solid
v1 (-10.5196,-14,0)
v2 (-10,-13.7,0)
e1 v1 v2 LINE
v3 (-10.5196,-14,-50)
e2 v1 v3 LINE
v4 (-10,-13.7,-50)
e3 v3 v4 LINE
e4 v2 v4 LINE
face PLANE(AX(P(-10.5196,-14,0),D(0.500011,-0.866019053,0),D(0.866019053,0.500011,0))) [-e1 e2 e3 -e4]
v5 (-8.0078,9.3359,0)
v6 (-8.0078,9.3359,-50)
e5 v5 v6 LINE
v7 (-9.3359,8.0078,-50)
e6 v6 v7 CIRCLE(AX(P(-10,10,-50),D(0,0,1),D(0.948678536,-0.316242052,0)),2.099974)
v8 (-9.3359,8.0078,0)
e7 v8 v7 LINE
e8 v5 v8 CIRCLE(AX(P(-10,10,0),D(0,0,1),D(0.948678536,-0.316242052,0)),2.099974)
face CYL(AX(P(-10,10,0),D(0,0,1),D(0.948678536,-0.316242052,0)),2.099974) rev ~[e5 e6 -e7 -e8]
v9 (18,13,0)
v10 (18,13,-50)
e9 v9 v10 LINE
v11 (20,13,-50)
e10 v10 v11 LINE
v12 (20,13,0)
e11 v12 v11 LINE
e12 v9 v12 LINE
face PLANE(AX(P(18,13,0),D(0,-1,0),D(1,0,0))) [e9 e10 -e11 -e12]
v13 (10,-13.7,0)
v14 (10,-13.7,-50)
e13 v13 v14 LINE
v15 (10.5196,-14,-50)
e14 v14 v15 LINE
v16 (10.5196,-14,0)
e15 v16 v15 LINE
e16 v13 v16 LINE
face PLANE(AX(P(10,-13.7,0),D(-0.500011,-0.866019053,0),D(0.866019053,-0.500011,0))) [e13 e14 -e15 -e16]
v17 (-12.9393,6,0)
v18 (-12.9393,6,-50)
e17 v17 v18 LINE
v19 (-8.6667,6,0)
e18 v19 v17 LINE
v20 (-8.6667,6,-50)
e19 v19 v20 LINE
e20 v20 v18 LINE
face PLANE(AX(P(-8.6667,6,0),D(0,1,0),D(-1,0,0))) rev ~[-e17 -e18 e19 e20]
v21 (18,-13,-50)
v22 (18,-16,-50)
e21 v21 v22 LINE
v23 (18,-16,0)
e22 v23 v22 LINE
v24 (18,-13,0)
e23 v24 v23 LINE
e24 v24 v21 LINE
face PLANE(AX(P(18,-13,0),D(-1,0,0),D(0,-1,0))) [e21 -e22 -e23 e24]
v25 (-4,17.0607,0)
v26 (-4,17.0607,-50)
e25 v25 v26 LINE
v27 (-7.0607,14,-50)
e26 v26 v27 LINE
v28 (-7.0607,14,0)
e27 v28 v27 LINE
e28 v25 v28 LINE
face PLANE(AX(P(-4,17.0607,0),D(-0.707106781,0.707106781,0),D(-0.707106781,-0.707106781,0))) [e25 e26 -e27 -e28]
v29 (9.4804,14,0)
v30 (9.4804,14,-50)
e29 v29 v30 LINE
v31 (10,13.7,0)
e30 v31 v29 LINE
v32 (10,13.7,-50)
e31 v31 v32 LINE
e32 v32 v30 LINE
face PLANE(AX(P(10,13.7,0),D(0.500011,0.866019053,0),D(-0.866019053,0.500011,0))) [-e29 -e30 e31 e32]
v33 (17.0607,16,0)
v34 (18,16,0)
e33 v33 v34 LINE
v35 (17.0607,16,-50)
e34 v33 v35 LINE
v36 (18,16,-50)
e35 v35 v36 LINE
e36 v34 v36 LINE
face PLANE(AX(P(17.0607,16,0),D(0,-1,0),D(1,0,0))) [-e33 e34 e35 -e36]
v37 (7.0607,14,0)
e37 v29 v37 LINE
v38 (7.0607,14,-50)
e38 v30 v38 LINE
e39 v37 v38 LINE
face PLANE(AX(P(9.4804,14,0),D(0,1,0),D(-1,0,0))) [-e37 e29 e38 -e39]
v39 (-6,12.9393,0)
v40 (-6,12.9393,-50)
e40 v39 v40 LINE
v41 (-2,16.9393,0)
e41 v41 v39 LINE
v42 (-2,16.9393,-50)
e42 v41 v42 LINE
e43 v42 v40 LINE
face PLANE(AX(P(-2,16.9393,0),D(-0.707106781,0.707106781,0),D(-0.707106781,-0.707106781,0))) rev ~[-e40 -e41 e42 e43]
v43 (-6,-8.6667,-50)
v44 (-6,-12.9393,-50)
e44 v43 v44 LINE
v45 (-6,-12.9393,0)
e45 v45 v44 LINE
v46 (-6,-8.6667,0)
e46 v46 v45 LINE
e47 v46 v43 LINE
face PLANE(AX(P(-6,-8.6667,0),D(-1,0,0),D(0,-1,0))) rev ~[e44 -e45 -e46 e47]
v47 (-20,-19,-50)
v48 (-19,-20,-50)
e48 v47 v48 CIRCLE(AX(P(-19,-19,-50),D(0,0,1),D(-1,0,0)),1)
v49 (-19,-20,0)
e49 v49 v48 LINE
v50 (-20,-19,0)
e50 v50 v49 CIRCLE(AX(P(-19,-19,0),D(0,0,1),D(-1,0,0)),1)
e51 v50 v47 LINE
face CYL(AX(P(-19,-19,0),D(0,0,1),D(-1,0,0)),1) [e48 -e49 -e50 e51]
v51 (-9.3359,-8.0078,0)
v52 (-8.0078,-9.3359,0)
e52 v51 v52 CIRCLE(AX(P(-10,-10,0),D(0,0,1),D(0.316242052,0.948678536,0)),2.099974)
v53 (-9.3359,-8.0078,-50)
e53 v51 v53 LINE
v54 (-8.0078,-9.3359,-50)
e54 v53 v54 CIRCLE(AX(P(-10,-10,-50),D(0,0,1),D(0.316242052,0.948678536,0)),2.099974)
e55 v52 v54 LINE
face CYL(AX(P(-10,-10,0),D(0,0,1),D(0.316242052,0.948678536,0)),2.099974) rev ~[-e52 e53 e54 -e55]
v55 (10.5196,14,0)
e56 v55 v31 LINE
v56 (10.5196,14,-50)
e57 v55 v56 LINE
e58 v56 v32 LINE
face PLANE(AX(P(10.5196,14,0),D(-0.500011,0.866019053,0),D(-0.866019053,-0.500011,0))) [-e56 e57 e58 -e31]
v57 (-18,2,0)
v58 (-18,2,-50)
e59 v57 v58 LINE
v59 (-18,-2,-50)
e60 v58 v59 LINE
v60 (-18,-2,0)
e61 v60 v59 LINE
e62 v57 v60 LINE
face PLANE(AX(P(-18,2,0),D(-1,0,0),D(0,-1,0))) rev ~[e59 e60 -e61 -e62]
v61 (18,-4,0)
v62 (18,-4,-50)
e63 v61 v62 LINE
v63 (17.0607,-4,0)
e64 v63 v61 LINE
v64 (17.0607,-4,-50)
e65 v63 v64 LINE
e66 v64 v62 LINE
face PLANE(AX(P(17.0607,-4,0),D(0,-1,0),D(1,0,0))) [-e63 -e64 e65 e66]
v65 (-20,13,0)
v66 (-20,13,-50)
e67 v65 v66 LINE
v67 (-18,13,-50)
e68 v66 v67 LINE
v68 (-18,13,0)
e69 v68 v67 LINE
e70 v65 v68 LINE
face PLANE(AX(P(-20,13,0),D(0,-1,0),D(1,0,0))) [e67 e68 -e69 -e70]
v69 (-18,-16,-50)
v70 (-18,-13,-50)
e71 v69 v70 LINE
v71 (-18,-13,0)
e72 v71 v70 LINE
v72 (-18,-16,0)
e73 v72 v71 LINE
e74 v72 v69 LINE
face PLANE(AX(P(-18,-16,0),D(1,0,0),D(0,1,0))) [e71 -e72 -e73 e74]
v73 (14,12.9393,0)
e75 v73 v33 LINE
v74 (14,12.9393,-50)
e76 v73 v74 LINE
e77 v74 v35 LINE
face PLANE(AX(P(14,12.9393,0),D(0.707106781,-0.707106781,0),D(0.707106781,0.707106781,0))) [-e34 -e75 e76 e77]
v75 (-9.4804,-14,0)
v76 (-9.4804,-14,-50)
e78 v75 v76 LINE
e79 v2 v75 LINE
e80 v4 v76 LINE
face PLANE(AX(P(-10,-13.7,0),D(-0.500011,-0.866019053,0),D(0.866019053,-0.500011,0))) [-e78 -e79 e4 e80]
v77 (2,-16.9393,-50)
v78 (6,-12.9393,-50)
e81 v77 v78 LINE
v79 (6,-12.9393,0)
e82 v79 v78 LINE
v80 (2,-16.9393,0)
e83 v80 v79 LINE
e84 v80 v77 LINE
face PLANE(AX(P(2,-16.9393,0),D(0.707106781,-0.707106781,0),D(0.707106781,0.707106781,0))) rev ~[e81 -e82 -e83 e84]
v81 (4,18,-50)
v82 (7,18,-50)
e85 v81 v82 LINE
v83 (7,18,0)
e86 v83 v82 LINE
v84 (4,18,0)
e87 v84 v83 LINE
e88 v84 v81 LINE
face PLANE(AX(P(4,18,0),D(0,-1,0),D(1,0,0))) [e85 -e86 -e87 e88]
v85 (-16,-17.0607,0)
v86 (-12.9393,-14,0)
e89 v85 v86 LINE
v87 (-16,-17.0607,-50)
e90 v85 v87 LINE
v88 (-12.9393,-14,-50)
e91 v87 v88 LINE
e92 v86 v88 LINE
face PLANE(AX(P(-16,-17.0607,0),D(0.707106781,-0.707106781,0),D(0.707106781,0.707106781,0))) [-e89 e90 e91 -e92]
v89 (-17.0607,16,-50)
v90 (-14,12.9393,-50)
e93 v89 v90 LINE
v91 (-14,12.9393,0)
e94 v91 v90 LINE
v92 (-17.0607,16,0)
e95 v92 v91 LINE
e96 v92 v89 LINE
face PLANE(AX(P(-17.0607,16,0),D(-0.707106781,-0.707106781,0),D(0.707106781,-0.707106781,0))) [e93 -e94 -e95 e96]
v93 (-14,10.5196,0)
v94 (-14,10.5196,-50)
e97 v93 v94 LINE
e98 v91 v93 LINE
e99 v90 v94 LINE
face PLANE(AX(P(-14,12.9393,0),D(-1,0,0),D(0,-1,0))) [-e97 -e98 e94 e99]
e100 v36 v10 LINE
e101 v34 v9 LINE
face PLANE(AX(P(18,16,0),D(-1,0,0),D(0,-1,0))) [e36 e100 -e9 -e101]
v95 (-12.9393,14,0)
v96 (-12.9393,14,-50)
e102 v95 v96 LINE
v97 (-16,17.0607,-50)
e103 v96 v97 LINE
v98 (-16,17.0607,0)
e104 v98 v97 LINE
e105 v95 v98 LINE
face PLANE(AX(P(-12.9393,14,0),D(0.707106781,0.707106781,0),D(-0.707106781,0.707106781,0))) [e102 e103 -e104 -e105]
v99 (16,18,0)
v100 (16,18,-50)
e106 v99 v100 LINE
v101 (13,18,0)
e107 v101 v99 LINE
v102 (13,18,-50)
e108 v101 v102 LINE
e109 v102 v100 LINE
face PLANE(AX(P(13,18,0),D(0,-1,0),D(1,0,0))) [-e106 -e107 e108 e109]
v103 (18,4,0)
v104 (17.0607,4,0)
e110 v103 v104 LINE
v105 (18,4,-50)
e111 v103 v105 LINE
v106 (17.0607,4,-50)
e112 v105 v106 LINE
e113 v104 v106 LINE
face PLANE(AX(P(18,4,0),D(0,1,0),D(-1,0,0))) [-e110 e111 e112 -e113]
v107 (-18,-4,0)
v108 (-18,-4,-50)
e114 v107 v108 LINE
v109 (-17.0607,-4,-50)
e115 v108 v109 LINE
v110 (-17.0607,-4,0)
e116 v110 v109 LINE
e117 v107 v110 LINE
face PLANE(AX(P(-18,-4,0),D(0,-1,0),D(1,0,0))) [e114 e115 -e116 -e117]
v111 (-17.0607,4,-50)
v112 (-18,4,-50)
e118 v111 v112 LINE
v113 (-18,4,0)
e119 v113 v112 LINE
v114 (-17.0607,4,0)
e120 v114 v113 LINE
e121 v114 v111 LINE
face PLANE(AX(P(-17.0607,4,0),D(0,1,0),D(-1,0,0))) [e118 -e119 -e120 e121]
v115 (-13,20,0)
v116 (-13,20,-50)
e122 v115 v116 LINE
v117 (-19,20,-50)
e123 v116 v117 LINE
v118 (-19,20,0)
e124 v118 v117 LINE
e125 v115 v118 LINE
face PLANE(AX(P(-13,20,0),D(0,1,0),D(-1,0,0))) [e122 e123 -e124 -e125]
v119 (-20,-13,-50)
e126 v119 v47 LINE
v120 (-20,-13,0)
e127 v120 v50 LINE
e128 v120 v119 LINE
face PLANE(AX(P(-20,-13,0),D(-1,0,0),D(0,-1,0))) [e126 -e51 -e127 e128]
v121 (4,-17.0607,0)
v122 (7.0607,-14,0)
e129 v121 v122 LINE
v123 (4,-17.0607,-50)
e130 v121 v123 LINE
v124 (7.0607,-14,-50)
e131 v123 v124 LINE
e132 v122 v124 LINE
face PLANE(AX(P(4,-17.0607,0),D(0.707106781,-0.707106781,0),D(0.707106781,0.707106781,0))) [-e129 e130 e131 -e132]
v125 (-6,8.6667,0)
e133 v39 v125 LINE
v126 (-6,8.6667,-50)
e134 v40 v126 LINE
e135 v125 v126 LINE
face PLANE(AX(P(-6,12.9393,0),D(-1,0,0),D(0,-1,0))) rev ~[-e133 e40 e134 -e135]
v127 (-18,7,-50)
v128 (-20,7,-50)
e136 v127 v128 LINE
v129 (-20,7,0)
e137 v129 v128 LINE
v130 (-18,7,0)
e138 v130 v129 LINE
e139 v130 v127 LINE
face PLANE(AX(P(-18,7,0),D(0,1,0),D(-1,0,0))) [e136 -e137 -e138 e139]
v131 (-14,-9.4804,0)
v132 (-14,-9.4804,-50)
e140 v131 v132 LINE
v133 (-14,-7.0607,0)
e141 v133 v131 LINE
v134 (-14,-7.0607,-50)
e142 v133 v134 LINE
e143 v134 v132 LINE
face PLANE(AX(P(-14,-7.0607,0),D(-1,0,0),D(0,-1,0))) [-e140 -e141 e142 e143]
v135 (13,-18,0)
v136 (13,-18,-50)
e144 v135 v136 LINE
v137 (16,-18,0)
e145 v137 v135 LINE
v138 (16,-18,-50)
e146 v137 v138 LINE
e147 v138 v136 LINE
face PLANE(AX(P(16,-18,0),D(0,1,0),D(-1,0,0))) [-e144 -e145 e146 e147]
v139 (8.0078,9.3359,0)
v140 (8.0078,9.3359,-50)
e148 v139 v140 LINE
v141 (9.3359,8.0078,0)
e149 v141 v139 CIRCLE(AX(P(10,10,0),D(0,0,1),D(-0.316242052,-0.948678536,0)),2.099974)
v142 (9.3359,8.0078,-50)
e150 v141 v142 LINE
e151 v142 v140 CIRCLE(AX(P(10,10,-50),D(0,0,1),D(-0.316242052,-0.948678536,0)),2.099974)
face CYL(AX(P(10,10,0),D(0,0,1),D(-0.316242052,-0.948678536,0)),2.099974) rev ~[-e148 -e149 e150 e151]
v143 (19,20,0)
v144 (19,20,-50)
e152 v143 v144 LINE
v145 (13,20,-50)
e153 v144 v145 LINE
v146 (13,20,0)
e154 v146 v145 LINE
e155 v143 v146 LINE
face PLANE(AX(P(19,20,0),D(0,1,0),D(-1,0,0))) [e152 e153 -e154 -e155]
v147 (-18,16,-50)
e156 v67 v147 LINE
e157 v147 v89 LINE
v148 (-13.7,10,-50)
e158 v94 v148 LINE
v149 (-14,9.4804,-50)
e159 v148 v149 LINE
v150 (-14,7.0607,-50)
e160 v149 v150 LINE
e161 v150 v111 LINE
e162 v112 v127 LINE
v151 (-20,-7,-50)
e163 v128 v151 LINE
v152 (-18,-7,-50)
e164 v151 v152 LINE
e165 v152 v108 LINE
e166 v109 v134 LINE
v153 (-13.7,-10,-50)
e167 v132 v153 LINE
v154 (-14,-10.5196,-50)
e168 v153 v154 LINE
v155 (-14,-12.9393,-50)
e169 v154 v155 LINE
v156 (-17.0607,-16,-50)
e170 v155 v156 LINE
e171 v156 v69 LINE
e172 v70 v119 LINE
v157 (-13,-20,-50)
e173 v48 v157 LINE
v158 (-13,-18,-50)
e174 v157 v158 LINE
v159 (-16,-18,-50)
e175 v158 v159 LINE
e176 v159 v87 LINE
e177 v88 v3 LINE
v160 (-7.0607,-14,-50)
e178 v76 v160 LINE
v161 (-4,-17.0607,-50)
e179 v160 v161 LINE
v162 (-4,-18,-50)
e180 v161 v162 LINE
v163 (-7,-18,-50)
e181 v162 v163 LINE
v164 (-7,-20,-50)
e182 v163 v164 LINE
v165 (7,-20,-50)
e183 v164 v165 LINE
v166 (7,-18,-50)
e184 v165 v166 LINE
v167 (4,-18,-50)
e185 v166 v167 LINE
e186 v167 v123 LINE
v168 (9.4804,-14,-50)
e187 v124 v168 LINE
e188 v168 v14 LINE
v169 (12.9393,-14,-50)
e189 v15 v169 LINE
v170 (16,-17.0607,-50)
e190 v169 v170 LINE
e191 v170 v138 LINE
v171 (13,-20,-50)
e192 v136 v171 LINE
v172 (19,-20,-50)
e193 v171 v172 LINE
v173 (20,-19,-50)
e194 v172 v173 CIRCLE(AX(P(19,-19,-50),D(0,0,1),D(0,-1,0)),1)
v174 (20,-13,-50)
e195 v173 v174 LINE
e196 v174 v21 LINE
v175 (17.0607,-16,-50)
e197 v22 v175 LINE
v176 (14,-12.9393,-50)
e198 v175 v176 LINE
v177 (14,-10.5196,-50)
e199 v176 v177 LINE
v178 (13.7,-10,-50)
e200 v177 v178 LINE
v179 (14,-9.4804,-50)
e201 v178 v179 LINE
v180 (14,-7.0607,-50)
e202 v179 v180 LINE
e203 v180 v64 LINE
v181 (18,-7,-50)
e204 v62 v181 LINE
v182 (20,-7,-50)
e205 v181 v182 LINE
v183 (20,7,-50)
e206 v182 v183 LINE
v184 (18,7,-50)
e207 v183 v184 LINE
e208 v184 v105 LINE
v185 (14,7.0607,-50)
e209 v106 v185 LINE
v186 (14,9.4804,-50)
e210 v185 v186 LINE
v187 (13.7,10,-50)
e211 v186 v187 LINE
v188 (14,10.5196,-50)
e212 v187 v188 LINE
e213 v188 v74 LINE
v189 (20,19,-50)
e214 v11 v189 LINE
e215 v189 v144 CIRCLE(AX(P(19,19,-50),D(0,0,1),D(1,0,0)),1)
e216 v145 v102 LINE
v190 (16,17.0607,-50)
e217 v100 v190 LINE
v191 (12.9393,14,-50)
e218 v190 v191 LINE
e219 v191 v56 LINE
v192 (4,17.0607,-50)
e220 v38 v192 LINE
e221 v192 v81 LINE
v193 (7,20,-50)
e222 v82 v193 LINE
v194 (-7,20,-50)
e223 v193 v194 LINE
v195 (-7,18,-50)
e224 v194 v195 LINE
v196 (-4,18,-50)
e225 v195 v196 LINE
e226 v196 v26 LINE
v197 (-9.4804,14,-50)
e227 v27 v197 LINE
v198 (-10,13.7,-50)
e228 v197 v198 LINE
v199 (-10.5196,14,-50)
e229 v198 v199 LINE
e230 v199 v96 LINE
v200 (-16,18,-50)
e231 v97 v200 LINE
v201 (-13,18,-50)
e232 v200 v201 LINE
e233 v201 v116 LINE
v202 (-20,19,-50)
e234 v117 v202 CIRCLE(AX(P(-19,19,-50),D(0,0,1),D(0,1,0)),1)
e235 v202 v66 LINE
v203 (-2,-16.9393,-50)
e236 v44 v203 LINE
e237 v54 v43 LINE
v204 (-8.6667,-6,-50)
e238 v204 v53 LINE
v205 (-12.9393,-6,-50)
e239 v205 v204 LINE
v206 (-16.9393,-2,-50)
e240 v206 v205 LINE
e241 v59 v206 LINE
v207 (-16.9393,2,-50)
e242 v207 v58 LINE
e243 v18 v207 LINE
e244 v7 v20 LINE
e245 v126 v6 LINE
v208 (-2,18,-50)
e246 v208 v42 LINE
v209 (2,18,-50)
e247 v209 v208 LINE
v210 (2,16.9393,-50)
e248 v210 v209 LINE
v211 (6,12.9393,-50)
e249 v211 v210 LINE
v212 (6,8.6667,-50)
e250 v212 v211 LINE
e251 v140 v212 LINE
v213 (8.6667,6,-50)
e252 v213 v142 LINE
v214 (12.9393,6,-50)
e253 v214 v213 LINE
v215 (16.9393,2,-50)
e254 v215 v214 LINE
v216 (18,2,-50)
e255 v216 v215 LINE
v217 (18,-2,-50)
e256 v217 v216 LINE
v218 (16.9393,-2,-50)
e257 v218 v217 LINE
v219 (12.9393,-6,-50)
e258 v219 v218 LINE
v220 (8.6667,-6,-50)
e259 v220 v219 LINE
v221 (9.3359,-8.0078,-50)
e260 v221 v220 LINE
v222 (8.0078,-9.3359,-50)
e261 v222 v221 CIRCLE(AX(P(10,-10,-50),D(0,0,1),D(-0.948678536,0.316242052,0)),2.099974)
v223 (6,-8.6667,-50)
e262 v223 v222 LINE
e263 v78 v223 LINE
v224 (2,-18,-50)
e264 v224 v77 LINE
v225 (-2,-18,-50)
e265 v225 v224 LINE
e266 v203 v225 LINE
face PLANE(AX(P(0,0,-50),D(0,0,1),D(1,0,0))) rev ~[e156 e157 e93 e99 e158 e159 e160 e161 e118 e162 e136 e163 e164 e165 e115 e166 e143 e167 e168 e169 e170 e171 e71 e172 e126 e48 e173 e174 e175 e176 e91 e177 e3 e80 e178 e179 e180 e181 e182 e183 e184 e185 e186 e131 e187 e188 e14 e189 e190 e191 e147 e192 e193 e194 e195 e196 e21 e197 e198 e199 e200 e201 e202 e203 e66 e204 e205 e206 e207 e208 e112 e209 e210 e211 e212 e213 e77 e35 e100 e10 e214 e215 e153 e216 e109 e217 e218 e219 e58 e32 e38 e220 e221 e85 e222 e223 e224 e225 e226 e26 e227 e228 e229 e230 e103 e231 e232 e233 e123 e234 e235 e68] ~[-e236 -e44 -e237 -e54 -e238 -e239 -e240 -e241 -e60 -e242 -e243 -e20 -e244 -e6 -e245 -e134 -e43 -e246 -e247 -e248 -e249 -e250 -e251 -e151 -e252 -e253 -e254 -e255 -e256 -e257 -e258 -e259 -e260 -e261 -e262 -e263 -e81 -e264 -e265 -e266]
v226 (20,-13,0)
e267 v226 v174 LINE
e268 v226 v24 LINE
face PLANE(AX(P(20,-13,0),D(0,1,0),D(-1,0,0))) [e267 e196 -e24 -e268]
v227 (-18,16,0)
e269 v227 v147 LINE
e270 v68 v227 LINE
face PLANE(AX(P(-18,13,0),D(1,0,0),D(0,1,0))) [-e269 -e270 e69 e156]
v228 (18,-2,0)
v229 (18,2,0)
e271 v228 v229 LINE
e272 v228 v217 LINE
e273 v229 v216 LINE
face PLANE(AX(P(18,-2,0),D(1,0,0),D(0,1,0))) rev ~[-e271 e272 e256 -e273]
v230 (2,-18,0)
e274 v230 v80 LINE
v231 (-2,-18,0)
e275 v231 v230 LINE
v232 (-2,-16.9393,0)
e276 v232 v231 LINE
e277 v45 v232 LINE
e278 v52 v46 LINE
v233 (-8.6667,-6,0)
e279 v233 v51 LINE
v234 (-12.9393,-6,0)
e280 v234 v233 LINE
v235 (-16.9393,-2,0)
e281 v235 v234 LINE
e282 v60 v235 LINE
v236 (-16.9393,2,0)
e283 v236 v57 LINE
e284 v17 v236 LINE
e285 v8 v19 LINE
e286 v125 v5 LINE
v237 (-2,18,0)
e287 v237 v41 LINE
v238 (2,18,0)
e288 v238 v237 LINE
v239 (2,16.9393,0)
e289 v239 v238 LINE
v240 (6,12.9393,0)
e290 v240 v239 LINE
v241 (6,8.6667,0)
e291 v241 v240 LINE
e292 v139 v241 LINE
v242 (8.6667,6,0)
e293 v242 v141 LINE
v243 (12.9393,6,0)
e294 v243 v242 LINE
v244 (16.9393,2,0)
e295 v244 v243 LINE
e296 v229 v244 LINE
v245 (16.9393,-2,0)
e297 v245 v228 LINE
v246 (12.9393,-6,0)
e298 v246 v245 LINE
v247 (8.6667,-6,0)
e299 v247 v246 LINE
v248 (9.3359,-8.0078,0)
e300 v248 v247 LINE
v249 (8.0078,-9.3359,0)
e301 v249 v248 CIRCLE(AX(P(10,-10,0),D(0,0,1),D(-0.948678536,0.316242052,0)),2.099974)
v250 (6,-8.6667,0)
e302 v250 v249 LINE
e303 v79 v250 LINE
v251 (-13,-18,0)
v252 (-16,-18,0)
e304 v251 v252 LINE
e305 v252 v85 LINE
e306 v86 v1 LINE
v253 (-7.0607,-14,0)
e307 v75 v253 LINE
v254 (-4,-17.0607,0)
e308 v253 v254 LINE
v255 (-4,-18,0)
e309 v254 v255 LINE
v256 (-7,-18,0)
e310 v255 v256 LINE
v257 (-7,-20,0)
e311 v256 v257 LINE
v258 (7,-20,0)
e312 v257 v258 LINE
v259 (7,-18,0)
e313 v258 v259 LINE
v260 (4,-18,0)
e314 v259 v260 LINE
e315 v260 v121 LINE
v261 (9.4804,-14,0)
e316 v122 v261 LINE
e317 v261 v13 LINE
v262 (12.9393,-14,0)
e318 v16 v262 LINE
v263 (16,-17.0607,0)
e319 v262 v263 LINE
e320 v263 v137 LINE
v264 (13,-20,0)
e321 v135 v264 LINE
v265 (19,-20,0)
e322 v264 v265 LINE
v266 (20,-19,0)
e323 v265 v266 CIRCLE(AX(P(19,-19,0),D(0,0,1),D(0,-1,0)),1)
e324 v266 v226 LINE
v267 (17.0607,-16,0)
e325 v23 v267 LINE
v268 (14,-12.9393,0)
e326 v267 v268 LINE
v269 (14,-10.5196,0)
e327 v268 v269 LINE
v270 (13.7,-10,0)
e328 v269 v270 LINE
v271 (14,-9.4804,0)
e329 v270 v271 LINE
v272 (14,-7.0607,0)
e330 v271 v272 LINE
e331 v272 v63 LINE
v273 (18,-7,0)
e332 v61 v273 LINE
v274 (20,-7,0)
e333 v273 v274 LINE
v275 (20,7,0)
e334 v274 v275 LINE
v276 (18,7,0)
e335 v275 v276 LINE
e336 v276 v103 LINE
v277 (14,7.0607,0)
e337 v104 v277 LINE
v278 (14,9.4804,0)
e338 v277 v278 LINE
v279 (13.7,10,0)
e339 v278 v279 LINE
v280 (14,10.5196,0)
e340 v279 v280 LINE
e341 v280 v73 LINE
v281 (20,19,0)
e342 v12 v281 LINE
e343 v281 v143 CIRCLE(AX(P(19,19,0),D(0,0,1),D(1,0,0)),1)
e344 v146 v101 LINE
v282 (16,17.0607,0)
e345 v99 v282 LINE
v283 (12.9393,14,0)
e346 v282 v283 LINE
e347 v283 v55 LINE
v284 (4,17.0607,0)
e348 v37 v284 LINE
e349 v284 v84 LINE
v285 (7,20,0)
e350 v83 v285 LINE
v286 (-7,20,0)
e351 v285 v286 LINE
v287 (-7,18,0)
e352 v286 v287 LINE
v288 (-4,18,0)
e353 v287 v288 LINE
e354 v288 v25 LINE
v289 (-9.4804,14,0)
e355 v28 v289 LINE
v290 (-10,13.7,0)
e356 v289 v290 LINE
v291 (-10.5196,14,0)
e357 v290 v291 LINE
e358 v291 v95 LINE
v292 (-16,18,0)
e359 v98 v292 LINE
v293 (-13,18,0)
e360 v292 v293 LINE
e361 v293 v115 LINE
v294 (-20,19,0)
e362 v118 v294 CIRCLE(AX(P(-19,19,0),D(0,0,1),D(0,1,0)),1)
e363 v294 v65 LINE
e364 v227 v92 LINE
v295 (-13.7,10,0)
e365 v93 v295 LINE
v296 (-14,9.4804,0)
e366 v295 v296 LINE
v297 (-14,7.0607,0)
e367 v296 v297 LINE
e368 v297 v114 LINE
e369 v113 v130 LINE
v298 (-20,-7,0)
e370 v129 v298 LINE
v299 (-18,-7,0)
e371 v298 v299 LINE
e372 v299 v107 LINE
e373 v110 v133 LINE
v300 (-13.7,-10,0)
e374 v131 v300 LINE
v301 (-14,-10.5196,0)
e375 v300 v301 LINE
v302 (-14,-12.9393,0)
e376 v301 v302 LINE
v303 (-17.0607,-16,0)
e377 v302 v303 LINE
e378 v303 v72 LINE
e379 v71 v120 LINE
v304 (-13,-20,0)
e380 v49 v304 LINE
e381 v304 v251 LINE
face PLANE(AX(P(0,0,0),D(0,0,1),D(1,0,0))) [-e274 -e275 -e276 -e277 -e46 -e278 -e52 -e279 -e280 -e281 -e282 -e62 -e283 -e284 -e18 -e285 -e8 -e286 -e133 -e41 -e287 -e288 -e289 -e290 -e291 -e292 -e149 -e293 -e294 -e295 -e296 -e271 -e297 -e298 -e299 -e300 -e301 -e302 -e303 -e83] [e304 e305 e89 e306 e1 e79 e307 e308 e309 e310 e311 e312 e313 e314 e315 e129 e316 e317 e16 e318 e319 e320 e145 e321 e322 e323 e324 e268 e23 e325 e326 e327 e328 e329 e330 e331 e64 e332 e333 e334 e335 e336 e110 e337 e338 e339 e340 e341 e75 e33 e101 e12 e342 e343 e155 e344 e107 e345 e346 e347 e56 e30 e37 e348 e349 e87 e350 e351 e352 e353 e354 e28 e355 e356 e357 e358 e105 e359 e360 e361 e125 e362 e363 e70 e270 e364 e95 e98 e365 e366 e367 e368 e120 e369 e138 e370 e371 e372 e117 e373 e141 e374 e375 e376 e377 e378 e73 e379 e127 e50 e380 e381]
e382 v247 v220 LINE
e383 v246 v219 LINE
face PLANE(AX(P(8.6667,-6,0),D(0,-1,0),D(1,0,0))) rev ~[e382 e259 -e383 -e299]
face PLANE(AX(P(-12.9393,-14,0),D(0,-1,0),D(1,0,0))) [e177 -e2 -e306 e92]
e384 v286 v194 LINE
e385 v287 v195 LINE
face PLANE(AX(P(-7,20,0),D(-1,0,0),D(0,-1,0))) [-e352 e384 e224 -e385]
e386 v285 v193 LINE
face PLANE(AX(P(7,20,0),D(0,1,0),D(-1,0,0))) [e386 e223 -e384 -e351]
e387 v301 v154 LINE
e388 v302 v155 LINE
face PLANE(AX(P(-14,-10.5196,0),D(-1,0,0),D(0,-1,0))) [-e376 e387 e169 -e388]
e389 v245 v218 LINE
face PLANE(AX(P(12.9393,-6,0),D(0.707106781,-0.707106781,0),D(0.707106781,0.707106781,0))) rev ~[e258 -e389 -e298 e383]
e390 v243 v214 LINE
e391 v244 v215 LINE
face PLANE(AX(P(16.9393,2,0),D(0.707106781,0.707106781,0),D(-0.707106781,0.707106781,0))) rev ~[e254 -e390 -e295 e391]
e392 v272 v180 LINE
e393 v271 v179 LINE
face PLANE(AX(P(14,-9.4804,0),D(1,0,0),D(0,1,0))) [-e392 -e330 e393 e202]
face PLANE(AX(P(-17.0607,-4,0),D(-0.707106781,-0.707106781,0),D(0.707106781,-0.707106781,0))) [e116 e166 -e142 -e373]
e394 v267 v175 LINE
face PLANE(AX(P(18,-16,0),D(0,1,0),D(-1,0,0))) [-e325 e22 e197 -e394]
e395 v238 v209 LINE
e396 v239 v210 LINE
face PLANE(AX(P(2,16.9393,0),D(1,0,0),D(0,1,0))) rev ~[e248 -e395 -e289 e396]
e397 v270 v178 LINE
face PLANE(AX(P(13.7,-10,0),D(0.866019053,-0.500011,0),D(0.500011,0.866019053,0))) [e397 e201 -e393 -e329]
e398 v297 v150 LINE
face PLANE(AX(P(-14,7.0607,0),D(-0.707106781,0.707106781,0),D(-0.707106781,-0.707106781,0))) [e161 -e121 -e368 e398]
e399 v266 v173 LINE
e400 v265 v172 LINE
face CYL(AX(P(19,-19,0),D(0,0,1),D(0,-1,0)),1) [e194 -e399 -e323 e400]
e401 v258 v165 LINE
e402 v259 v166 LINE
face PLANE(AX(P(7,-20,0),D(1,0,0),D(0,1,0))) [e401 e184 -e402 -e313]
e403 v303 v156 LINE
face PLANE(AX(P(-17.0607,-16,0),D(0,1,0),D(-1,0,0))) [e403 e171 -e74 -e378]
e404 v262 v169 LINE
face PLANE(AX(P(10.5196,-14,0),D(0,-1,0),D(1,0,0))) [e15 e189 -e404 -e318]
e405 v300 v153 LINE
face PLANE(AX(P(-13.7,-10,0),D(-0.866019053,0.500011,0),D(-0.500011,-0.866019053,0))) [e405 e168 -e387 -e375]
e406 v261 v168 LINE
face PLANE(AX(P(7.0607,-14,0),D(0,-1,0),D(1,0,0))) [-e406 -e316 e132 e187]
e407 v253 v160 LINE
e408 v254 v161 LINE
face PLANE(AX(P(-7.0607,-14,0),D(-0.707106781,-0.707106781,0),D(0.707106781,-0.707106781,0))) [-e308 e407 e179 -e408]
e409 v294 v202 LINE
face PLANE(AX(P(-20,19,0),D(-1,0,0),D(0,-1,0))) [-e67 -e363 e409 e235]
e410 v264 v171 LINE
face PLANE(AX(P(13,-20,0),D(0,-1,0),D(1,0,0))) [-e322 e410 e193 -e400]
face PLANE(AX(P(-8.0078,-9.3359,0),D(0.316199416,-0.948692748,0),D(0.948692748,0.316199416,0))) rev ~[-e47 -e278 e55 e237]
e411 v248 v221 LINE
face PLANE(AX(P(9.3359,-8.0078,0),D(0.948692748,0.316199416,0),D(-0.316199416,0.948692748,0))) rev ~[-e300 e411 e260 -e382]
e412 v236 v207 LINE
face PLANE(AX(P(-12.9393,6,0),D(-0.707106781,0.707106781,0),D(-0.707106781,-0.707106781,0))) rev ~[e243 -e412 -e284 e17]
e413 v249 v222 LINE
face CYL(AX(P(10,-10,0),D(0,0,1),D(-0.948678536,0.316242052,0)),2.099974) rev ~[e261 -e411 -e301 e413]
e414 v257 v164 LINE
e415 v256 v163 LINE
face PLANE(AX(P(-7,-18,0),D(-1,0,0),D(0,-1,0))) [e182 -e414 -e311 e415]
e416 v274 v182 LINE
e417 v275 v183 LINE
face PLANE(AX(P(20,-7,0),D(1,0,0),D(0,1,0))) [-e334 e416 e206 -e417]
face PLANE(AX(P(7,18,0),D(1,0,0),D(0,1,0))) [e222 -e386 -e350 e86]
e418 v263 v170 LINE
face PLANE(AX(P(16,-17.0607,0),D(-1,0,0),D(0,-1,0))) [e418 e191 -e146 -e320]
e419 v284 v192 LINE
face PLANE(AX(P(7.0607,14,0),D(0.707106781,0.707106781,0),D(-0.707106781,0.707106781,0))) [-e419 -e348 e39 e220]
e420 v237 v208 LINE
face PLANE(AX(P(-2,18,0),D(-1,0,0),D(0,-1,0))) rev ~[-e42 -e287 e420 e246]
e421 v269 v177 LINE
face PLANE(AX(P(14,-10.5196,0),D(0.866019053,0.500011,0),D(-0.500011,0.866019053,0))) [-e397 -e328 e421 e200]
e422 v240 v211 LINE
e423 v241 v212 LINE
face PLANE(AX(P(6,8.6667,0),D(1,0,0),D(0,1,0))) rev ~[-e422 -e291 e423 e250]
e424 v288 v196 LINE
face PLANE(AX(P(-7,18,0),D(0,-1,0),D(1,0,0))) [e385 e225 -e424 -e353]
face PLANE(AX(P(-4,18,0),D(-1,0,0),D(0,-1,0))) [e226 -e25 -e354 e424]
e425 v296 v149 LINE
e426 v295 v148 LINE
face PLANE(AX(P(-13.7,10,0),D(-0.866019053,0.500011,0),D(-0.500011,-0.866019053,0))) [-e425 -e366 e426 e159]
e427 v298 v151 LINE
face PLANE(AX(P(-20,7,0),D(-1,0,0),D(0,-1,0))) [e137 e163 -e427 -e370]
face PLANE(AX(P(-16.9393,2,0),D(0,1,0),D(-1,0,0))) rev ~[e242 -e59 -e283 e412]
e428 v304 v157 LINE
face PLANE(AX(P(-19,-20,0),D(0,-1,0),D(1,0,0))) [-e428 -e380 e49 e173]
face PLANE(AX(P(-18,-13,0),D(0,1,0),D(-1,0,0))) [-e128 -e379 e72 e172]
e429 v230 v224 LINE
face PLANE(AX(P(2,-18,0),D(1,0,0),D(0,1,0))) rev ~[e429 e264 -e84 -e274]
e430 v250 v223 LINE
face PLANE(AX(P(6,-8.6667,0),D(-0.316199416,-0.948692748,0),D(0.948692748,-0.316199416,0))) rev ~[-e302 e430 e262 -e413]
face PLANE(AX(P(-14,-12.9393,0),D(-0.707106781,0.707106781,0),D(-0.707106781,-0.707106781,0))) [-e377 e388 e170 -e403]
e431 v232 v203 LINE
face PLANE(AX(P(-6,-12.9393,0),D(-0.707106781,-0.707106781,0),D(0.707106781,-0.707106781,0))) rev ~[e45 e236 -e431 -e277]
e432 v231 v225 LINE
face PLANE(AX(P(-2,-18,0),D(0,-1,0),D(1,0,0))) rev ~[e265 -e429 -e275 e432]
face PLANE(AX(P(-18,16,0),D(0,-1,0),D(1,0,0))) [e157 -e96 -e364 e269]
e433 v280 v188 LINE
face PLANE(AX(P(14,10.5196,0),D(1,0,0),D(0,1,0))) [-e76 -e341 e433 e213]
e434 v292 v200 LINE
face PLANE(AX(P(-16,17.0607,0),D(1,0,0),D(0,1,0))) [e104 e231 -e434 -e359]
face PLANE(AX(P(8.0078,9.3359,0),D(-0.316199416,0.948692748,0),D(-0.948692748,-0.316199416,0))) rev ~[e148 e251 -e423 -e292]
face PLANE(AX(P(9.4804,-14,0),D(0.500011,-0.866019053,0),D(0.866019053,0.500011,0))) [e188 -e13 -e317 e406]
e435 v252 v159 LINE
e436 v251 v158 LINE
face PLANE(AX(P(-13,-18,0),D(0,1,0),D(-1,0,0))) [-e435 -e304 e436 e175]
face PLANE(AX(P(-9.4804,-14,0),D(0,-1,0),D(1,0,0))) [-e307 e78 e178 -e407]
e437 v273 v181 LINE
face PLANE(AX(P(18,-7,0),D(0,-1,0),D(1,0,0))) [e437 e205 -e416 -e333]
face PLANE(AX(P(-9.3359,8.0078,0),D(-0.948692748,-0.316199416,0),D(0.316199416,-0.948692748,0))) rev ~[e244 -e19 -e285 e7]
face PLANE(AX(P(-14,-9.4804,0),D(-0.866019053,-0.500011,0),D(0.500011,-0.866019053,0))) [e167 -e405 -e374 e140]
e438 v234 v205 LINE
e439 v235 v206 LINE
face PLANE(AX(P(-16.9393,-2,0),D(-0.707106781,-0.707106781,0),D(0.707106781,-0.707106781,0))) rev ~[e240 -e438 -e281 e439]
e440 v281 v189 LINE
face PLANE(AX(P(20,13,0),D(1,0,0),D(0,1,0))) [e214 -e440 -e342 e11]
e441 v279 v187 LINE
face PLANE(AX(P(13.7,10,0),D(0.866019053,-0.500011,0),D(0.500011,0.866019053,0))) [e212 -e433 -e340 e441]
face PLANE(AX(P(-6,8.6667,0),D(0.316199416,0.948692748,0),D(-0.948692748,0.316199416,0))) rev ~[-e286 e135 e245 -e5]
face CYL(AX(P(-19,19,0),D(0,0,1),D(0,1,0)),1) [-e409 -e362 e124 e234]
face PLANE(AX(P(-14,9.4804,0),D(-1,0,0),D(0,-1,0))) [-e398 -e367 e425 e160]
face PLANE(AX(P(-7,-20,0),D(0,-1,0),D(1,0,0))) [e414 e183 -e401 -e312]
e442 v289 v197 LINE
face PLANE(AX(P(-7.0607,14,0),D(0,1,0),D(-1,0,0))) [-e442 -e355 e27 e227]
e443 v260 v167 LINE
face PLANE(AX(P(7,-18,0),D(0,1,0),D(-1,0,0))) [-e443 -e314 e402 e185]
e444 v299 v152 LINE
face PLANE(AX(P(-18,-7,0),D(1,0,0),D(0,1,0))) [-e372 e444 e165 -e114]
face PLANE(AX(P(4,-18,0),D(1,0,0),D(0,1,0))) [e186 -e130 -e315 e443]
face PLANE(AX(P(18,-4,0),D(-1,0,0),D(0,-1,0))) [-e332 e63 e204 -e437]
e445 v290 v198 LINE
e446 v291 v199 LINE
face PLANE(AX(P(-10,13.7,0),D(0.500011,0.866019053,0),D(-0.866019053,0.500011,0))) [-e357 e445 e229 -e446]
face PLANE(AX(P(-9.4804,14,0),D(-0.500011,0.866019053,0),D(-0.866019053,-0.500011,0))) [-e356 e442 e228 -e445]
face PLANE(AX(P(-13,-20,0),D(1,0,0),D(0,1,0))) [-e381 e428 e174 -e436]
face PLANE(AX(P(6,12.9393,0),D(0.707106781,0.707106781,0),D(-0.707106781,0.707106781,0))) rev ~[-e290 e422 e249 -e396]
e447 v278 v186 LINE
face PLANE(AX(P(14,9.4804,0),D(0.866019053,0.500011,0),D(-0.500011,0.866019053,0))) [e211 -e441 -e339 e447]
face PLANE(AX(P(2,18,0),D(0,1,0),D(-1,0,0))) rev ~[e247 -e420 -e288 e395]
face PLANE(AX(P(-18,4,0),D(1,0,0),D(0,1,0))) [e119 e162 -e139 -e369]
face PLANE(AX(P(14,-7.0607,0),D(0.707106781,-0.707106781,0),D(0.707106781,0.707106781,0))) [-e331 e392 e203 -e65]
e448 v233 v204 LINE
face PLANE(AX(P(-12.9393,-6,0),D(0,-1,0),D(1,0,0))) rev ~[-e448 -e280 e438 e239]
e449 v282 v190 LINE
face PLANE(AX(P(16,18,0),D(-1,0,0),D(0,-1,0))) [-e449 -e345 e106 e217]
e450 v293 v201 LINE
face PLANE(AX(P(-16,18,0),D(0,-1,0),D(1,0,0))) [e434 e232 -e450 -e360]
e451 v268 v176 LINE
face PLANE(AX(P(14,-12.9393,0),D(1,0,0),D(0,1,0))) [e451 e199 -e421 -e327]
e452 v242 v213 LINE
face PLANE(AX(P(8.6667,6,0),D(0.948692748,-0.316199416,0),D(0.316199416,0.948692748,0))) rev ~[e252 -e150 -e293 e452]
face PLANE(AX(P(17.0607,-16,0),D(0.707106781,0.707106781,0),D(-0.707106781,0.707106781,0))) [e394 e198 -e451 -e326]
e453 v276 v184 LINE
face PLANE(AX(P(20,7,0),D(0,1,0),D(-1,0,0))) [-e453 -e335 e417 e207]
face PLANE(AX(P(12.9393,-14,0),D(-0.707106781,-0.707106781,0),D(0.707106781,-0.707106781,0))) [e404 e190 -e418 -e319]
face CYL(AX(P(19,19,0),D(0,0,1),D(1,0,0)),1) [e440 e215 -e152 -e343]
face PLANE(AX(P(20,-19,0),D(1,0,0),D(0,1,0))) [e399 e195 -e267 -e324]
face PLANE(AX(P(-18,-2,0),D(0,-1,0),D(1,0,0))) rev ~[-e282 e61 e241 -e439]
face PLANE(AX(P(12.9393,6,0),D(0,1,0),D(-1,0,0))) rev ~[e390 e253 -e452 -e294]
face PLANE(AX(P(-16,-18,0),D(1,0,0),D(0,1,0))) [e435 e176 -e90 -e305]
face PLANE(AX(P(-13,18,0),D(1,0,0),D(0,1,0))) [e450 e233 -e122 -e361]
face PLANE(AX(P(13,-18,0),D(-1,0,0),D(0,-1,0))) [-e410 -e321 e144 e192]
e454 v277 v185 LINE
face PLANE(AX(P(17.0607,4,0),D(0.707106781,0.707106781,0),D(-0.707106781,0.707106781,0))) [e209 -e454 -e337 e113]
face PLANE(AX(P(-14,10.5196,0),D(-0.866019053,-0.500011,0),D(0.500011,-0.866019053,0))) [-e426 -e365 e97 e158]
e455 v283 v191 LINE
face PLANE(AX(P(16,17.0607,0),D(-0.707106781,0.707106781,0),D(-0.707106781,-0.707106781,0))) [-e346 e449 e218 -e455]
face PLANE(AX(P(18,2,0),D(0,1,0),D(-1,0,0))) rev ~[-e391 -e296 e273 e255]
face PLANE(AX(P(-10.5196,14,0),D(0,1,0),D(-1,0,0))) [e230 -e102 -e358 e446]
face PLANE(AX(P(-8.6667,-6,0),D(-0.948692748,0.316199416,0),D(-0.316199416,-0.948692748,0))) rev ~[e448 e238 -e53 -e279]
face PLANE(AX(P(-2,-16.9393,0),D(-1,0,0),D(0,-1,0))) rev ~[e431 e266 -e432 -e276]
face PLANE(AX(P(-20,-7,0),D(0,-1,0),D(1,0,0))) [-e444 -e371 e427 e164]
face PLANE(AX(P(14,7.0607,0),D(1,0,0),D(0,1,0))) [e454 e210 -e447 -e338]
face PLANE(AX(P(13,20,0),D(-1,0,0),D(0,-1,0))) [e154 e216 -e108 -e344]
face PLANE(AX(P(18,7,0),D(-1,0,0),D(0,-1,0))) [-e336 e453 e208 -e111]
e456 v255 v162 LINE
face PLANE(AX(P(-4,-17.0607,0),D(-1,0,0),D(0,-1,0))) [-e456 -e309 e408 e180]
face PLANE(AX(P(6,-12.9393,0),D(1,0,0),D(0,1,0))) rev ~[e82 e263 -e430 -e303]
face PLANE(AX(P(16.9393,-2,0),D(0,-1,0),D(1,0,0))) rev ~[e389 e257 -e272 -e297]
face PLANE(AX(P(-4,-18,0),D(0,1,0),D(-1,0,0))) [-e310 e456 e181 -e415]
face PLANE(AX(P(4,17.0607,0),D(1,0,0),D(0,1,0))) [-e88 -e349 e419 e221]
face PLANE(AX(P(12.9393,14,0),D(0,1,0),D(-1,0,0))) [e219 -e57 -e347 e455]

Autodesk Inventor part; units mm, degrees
sketch "Sketch_1" plane through (0, 0, 0) normal (0, 0, 1) x (1, 0, 0)
  line L0 (-20, -7) -> (-18, -7)
  line L1 (-18, -7) -> (-18, -4)
  line L2 (-18, -4) -> (-17.0607, -4)
  line L3 (-17.0607, -4) -> (-14, -7.0607)
  line L4 (-14, -7.0607) -> (-14, -9.4804)
  line L5 (-14, -9.4804) -> (-13.7, -10)
  line L6 (-13.7, -10) -> (-14, -10.5196)
  line L7 (-14, -10.5196) -> (-14, -12.9393)
  line L8 (-14, -12.9393) -> (-17.0607, -16)
  line L9 (-17.0607, -16) -> (-18, -16)
  line L10 (-18, -16) -> (-18, -13)
  line L11 (-18, -13) -> (-20, -13)
  line L12 (-20, -13) -> (-20, -19)
  arc A0 (-20, -19) -> (-19, -20) centre (-19, -19) ccw
  line L13 (-19, -20) -> (-13, -20)
  line L14 (-13, -20) -> (-13, -18)
  line L15 (-13, -18) -> (-16, -18)
  line L16 (-16, -18) -> (-16, -17.0607)
  line L17 (-16, -17.0607) -> (-12.9393, -14)
  line L18 (-12.9393, -14) -> (-10.5196, -14)
  line L19 (-10.5196, -14) -> (-10, -13.7)
  line L20 (-10, -13.7) -> (-9.4804, -14)
  line L21 (-9.4804, -14) -> (-7.0607, -14)
  line L22 (-7.0607, -14) -> (-4, -17.0607)
  line L23 (-4, -17.0607) -> (-4, -18)
  line L24 (-4, -18) -> (-7, -18)
  line L25 (-7, -18) -> (-7, -20)
  line L26 (-7, -20) -> (7, -20)
  line L27 (7, -20) -> (7, -18)
  line L28 (7, -18) -> (4, -18)
  line L29 (4, -18) -> (4, -17.0607)
  line L30 (4, -17.0607) -> (7.0607, -14)
  line L31 (7.0607, -14) -> (9.4804, -14)
  line L32 (9.4804, -14) -> (10, -13.7)
  line L33 (10, -13.7) -> (10.5196, -14)
  line L34 (10.5196, -14) -> (12.9393, -14)
  line L35 (12.9393, -14) -> (16, -17.0607)
  line L36 (16, -17.0607) -> (16, -18)
  line L37 (16, -18) -> (13, -18)
  line L38 (13, -18) -> (13, -20)
  line L39 (13, -20) -> (19, -20)
  arc A1 (19, -20) -> (20, -19) centre (19, -19) ccw
  line L40 (20, -19) -> (20, -13)
  line L41 (20, -13) -> (18, -13)
  line L42 (18, -13) -> (18, -16)
  line L43 (18, -16) -> (17.0607, -16)
  line L44 (17.0607, -16) -> (14, -12.9393)
  line L45 (14, -12.9393) -> (14, -10.5196)
  line L46 (14, -10.5196) -> (13.7, -10)
  line L47 (13.7, -10) -> (14, -9.4804)
  line L48 (14, -9.4804) -> (14, -7.0607)
  line L49 (14, -7.0607) -> (17.0607, -4)
  line L50 (17.0607, -4) -> (18, -4)
  line L51 (18, -4) -> (18, -7)
  line L52 (18, -7) -> (20, -7)
  line L53 (20, -7) -> (20, 7)
  line L54 (20, 7) -> (18, 7)
  line L55 (18, 7) -> (18, 4)
  line L56 (18, 4) -> (17.0607, 4)
  line L57 (17.0607, 4) -> (14, 7.0607)
  line L58 (14, 7.0607) -> (14, 9.4804)
  line L59 (14, 9.4804) -> (13.7, 10)
  line L60 (13.7, 10) -> (14, 10.5196)
  line L61 (14, 10.5196) -> (14, 12.9393)
  line L62 (14, 12.9393) -> (17.0607, 16)
  line L63 (17.0607, 16) -> (18, 16)
  line L64 (18, 16) -> (18, 13)
  line L65 (18, 13) -> (20, 13)
  line L66 (20, 13) -> (20, 19)
  arc A2 (20, 19) -> (19, 20) centre (19, 19) ccw
  line L67 (19, 20) -> (13, 20)
  line L68 (13, 20) -> (13, 18)
  line L69 (13, 18) -> (16, 18)
  line L70 (16, 18) -> (16, 17.0607)
  line L71 (16, 17.0607) -> (12.9393, 14)
  line L72 (12.9393, 14) -> (10.5196, 14)
  line L73 (10.5196, 14) -> (10, 13.7)
  line L74 (10, 13.7) -> (9.4804, 14)
  line L75 (9.4804, 14) -> (7.0607, 14)
  line L76 (7.0607, 14) -> (4, 17.0607)
  line L77 (4, 17.0607) -> (4, 18)
  line L78 (4, 18) -> (7, 18)
  line L79 (7, 18) -> (7, 20)
  line L80 (7, 20) -> (-7, 20)
  line L81 (-7, 20) -> (-7, 18)
  line L82 (-7, 18) -> (-4, 18)
  line L83 (-4, 18) -> (-4, 17.0607)
  line L84 (-4, 17.0607) -> (-7.0607, 14)
  line L85 (-7.0607, 14) -> (-9.4804, 14)
  line L86 (-9.4804, 14) -> (-10, 13.7)
  line L87 (-10, 13.7) -> (-10.5196, 14)
  line L88 (-10.5196, 14) -> (-12.9393, 14)
  line L89 (-12.9393, 14) -> (-16, 17.0607)
  line L90 (-16, 17.0607) -> (-16, 18)
  line L91 (-16, 18) -> (-13, 18)
  line L92 (-13, 18) -> (-13, 20)
  line L93 (-13, 20) -> (-19, 20)
  arc A3 (-19, 20) -> (-20, 19) centre (-19, 19) ccw
  line L94 (-20, 19) -> (-20, 13)
  line L95 (-20, 13) -> (-18, 13)
  line L96 (-18, 13) -> (-18, 16)
  line L97 (-18, 16) -> (-17.0607, 16)
  line L98 (-17.0607, 16) -> (-14, 12.9393)
  line L99 (-14, 12.9393) -> (-14, 10.5196)
  line L100 (-14, 10.5196) -> (-13.7, 10)
  line L101 (-13.7, 10) -> (-14, 9.4804)
  line L102 (-14, 9.4804) -> (-14, 7.0607)
  line L103 (-14, 7.0607) -> (-17.0607, 4)
  line L104 (-17.0607, 4) -> (-18, 4)
  line L105 (-18, 4) -> (-18, 7)
  line L106 (-18, 7) -> (-20, 7)
  line L107 (-20, 7) -> (-20, -7)
extrude "Extrusion1" add sketch "Sketch_1" against normal blind 50
sketch "Sketch_130" plane through (0, 0, 0) normal (0, 0, 1) x (1, 0, 0)
  line L0 (-18, 2) -> (-18, -2)
  line L1 (-18, -2) -> (-16.9393, -2)
  line L2 (-16.9393, -2) -> (-12.9393, -6)
  line L3 (-12.9393, -6) -> (-8.6667, -6)
  line L4 (-8.6667, -6) -> (-9.3359, -8.0078)
  arc A0 (-9.3359, -8.0078) -> (-8.0078, -9.3359) centre (-10, -10) ccw
  line L5 (-8.0078, -9.3359) -> (-6, -8.6667)
  line L6 (-6, -8.6667) -> (-6, -12.9393)
  line L7 (-6, -12.9393) -> (-2, -16.9393)
  line L8 (-2, -16.9393) -> (-2, -18)
  line L9 (-2, -18) -> (2, -18)
  line L10 (2, -18) -> (2, -16.9393)
  line L11 (2, -16.9393) -> (6, -12.9393)
  line L12 (6, -12.9393) -> (6, -8.6667)
  line L13 (6, -8.6667) -> (8.0078, -9.3359)
  arc A1 (8.0078, -9.3359) -> (9.3359, -8.0078) centre (10, -10) ccw
  line L14 (9.3359, -8.0078) -> (8.6667, -6)
  line L15 (8.6667, -6) -> (12.9393, -6)
  line L16 (12.9393, -6) -> (16.9393, -2)
  line L17 (16.9393, -2) -> (18, -2)
  line L18 (18, -2) -> (18, 2)
  line L19 (18, 2) -> (16.9393, 2)
  line L20 (16.9393, 2) -> (12.9393, 6)
  line L21 (12.9393, 6) -> (8.6667, 6)
  line L22 (8.6667, 6) -> (9.3359, 8.0078)
  arc A2 (9.3359, 8.0078) -> (8.0078, 9.3359) centre (10, 10) ccw
  line L23 (8.0078, 9.3359) -> (6, 8.6667)
  line L24 (6, 8.6667) -> (6, 12.9393)
  line L25 (6, 12.9393) -> (2, 16.9393)
  line L26 (2, 16.9393) -> (2, 18)
  line L27 (2, 18) -> (-2, 18)
  line L28 (-2, 18) -> (-2, 16.9393)
  line L29 (-2, 16.9393) -> (-6, 12.9393)
  line L30 (-6, 12.9393) -> (-6, 8.6667)
  line L31 (-6, 8.6667) -> (-8.0078, 9.3359)
  arc A3 (-8.0078, 9.3359) -> (-9.3359, 8.0078) centre (-10, 10) ccw
  line L32 (-9.3359, 8.0078) -> (-8.6667, 6)
  line L33 (-8.6667, 6) -> (-12.9393, 6)
  line L34 (-12.9393, 6) -> (-16.9393, 2)
  line L35 (-16.9393, 2) -> (-18, 2)
extrude "Extrusion2" cut sketch "Sketch_130" against normal blind 50
ref_plane "C1_XY" through (0, 0, 0) normal (0, 0, 1) x (1, 0, 0)
ref_plane "C1_YZ" through (0, 0, 0) normal (1, 0, 0) x (0, 1, 0)
ref_plane "C1_ZX" through (0, 0, 0) normal (0, 1, 0) x (0, 0, 1)
ref_plane "to_frame_cap1_XY" through (0, 0, 0) normal (0, 0, 1) x (1, 0, 0)
ref_plane "to_frame_cap1_YZ" through (0, 0, 0) normal (1, 0, 0) x (0, 1, 0)
ref_plane "to_frame_cap1_ZX" through (0, 0, 0) normal (0, 1, 0) x (0, 0, 1)
ref_plane "to_frame_cap2_XY" through (0, 0, -50) normal (0, 0, -1) x (1, 0, 0)
ref_plane "to_frame_cap2_YZ" through (0, 0, -50) normal (1, 0, 0) x (0, -1, 0)
ref_plane "to_frame_cap2_ZX" through (0, 0, -50) normal (0, -1, 0) x (0, 0, -1)
properties part number "HFS5-4040-50"
